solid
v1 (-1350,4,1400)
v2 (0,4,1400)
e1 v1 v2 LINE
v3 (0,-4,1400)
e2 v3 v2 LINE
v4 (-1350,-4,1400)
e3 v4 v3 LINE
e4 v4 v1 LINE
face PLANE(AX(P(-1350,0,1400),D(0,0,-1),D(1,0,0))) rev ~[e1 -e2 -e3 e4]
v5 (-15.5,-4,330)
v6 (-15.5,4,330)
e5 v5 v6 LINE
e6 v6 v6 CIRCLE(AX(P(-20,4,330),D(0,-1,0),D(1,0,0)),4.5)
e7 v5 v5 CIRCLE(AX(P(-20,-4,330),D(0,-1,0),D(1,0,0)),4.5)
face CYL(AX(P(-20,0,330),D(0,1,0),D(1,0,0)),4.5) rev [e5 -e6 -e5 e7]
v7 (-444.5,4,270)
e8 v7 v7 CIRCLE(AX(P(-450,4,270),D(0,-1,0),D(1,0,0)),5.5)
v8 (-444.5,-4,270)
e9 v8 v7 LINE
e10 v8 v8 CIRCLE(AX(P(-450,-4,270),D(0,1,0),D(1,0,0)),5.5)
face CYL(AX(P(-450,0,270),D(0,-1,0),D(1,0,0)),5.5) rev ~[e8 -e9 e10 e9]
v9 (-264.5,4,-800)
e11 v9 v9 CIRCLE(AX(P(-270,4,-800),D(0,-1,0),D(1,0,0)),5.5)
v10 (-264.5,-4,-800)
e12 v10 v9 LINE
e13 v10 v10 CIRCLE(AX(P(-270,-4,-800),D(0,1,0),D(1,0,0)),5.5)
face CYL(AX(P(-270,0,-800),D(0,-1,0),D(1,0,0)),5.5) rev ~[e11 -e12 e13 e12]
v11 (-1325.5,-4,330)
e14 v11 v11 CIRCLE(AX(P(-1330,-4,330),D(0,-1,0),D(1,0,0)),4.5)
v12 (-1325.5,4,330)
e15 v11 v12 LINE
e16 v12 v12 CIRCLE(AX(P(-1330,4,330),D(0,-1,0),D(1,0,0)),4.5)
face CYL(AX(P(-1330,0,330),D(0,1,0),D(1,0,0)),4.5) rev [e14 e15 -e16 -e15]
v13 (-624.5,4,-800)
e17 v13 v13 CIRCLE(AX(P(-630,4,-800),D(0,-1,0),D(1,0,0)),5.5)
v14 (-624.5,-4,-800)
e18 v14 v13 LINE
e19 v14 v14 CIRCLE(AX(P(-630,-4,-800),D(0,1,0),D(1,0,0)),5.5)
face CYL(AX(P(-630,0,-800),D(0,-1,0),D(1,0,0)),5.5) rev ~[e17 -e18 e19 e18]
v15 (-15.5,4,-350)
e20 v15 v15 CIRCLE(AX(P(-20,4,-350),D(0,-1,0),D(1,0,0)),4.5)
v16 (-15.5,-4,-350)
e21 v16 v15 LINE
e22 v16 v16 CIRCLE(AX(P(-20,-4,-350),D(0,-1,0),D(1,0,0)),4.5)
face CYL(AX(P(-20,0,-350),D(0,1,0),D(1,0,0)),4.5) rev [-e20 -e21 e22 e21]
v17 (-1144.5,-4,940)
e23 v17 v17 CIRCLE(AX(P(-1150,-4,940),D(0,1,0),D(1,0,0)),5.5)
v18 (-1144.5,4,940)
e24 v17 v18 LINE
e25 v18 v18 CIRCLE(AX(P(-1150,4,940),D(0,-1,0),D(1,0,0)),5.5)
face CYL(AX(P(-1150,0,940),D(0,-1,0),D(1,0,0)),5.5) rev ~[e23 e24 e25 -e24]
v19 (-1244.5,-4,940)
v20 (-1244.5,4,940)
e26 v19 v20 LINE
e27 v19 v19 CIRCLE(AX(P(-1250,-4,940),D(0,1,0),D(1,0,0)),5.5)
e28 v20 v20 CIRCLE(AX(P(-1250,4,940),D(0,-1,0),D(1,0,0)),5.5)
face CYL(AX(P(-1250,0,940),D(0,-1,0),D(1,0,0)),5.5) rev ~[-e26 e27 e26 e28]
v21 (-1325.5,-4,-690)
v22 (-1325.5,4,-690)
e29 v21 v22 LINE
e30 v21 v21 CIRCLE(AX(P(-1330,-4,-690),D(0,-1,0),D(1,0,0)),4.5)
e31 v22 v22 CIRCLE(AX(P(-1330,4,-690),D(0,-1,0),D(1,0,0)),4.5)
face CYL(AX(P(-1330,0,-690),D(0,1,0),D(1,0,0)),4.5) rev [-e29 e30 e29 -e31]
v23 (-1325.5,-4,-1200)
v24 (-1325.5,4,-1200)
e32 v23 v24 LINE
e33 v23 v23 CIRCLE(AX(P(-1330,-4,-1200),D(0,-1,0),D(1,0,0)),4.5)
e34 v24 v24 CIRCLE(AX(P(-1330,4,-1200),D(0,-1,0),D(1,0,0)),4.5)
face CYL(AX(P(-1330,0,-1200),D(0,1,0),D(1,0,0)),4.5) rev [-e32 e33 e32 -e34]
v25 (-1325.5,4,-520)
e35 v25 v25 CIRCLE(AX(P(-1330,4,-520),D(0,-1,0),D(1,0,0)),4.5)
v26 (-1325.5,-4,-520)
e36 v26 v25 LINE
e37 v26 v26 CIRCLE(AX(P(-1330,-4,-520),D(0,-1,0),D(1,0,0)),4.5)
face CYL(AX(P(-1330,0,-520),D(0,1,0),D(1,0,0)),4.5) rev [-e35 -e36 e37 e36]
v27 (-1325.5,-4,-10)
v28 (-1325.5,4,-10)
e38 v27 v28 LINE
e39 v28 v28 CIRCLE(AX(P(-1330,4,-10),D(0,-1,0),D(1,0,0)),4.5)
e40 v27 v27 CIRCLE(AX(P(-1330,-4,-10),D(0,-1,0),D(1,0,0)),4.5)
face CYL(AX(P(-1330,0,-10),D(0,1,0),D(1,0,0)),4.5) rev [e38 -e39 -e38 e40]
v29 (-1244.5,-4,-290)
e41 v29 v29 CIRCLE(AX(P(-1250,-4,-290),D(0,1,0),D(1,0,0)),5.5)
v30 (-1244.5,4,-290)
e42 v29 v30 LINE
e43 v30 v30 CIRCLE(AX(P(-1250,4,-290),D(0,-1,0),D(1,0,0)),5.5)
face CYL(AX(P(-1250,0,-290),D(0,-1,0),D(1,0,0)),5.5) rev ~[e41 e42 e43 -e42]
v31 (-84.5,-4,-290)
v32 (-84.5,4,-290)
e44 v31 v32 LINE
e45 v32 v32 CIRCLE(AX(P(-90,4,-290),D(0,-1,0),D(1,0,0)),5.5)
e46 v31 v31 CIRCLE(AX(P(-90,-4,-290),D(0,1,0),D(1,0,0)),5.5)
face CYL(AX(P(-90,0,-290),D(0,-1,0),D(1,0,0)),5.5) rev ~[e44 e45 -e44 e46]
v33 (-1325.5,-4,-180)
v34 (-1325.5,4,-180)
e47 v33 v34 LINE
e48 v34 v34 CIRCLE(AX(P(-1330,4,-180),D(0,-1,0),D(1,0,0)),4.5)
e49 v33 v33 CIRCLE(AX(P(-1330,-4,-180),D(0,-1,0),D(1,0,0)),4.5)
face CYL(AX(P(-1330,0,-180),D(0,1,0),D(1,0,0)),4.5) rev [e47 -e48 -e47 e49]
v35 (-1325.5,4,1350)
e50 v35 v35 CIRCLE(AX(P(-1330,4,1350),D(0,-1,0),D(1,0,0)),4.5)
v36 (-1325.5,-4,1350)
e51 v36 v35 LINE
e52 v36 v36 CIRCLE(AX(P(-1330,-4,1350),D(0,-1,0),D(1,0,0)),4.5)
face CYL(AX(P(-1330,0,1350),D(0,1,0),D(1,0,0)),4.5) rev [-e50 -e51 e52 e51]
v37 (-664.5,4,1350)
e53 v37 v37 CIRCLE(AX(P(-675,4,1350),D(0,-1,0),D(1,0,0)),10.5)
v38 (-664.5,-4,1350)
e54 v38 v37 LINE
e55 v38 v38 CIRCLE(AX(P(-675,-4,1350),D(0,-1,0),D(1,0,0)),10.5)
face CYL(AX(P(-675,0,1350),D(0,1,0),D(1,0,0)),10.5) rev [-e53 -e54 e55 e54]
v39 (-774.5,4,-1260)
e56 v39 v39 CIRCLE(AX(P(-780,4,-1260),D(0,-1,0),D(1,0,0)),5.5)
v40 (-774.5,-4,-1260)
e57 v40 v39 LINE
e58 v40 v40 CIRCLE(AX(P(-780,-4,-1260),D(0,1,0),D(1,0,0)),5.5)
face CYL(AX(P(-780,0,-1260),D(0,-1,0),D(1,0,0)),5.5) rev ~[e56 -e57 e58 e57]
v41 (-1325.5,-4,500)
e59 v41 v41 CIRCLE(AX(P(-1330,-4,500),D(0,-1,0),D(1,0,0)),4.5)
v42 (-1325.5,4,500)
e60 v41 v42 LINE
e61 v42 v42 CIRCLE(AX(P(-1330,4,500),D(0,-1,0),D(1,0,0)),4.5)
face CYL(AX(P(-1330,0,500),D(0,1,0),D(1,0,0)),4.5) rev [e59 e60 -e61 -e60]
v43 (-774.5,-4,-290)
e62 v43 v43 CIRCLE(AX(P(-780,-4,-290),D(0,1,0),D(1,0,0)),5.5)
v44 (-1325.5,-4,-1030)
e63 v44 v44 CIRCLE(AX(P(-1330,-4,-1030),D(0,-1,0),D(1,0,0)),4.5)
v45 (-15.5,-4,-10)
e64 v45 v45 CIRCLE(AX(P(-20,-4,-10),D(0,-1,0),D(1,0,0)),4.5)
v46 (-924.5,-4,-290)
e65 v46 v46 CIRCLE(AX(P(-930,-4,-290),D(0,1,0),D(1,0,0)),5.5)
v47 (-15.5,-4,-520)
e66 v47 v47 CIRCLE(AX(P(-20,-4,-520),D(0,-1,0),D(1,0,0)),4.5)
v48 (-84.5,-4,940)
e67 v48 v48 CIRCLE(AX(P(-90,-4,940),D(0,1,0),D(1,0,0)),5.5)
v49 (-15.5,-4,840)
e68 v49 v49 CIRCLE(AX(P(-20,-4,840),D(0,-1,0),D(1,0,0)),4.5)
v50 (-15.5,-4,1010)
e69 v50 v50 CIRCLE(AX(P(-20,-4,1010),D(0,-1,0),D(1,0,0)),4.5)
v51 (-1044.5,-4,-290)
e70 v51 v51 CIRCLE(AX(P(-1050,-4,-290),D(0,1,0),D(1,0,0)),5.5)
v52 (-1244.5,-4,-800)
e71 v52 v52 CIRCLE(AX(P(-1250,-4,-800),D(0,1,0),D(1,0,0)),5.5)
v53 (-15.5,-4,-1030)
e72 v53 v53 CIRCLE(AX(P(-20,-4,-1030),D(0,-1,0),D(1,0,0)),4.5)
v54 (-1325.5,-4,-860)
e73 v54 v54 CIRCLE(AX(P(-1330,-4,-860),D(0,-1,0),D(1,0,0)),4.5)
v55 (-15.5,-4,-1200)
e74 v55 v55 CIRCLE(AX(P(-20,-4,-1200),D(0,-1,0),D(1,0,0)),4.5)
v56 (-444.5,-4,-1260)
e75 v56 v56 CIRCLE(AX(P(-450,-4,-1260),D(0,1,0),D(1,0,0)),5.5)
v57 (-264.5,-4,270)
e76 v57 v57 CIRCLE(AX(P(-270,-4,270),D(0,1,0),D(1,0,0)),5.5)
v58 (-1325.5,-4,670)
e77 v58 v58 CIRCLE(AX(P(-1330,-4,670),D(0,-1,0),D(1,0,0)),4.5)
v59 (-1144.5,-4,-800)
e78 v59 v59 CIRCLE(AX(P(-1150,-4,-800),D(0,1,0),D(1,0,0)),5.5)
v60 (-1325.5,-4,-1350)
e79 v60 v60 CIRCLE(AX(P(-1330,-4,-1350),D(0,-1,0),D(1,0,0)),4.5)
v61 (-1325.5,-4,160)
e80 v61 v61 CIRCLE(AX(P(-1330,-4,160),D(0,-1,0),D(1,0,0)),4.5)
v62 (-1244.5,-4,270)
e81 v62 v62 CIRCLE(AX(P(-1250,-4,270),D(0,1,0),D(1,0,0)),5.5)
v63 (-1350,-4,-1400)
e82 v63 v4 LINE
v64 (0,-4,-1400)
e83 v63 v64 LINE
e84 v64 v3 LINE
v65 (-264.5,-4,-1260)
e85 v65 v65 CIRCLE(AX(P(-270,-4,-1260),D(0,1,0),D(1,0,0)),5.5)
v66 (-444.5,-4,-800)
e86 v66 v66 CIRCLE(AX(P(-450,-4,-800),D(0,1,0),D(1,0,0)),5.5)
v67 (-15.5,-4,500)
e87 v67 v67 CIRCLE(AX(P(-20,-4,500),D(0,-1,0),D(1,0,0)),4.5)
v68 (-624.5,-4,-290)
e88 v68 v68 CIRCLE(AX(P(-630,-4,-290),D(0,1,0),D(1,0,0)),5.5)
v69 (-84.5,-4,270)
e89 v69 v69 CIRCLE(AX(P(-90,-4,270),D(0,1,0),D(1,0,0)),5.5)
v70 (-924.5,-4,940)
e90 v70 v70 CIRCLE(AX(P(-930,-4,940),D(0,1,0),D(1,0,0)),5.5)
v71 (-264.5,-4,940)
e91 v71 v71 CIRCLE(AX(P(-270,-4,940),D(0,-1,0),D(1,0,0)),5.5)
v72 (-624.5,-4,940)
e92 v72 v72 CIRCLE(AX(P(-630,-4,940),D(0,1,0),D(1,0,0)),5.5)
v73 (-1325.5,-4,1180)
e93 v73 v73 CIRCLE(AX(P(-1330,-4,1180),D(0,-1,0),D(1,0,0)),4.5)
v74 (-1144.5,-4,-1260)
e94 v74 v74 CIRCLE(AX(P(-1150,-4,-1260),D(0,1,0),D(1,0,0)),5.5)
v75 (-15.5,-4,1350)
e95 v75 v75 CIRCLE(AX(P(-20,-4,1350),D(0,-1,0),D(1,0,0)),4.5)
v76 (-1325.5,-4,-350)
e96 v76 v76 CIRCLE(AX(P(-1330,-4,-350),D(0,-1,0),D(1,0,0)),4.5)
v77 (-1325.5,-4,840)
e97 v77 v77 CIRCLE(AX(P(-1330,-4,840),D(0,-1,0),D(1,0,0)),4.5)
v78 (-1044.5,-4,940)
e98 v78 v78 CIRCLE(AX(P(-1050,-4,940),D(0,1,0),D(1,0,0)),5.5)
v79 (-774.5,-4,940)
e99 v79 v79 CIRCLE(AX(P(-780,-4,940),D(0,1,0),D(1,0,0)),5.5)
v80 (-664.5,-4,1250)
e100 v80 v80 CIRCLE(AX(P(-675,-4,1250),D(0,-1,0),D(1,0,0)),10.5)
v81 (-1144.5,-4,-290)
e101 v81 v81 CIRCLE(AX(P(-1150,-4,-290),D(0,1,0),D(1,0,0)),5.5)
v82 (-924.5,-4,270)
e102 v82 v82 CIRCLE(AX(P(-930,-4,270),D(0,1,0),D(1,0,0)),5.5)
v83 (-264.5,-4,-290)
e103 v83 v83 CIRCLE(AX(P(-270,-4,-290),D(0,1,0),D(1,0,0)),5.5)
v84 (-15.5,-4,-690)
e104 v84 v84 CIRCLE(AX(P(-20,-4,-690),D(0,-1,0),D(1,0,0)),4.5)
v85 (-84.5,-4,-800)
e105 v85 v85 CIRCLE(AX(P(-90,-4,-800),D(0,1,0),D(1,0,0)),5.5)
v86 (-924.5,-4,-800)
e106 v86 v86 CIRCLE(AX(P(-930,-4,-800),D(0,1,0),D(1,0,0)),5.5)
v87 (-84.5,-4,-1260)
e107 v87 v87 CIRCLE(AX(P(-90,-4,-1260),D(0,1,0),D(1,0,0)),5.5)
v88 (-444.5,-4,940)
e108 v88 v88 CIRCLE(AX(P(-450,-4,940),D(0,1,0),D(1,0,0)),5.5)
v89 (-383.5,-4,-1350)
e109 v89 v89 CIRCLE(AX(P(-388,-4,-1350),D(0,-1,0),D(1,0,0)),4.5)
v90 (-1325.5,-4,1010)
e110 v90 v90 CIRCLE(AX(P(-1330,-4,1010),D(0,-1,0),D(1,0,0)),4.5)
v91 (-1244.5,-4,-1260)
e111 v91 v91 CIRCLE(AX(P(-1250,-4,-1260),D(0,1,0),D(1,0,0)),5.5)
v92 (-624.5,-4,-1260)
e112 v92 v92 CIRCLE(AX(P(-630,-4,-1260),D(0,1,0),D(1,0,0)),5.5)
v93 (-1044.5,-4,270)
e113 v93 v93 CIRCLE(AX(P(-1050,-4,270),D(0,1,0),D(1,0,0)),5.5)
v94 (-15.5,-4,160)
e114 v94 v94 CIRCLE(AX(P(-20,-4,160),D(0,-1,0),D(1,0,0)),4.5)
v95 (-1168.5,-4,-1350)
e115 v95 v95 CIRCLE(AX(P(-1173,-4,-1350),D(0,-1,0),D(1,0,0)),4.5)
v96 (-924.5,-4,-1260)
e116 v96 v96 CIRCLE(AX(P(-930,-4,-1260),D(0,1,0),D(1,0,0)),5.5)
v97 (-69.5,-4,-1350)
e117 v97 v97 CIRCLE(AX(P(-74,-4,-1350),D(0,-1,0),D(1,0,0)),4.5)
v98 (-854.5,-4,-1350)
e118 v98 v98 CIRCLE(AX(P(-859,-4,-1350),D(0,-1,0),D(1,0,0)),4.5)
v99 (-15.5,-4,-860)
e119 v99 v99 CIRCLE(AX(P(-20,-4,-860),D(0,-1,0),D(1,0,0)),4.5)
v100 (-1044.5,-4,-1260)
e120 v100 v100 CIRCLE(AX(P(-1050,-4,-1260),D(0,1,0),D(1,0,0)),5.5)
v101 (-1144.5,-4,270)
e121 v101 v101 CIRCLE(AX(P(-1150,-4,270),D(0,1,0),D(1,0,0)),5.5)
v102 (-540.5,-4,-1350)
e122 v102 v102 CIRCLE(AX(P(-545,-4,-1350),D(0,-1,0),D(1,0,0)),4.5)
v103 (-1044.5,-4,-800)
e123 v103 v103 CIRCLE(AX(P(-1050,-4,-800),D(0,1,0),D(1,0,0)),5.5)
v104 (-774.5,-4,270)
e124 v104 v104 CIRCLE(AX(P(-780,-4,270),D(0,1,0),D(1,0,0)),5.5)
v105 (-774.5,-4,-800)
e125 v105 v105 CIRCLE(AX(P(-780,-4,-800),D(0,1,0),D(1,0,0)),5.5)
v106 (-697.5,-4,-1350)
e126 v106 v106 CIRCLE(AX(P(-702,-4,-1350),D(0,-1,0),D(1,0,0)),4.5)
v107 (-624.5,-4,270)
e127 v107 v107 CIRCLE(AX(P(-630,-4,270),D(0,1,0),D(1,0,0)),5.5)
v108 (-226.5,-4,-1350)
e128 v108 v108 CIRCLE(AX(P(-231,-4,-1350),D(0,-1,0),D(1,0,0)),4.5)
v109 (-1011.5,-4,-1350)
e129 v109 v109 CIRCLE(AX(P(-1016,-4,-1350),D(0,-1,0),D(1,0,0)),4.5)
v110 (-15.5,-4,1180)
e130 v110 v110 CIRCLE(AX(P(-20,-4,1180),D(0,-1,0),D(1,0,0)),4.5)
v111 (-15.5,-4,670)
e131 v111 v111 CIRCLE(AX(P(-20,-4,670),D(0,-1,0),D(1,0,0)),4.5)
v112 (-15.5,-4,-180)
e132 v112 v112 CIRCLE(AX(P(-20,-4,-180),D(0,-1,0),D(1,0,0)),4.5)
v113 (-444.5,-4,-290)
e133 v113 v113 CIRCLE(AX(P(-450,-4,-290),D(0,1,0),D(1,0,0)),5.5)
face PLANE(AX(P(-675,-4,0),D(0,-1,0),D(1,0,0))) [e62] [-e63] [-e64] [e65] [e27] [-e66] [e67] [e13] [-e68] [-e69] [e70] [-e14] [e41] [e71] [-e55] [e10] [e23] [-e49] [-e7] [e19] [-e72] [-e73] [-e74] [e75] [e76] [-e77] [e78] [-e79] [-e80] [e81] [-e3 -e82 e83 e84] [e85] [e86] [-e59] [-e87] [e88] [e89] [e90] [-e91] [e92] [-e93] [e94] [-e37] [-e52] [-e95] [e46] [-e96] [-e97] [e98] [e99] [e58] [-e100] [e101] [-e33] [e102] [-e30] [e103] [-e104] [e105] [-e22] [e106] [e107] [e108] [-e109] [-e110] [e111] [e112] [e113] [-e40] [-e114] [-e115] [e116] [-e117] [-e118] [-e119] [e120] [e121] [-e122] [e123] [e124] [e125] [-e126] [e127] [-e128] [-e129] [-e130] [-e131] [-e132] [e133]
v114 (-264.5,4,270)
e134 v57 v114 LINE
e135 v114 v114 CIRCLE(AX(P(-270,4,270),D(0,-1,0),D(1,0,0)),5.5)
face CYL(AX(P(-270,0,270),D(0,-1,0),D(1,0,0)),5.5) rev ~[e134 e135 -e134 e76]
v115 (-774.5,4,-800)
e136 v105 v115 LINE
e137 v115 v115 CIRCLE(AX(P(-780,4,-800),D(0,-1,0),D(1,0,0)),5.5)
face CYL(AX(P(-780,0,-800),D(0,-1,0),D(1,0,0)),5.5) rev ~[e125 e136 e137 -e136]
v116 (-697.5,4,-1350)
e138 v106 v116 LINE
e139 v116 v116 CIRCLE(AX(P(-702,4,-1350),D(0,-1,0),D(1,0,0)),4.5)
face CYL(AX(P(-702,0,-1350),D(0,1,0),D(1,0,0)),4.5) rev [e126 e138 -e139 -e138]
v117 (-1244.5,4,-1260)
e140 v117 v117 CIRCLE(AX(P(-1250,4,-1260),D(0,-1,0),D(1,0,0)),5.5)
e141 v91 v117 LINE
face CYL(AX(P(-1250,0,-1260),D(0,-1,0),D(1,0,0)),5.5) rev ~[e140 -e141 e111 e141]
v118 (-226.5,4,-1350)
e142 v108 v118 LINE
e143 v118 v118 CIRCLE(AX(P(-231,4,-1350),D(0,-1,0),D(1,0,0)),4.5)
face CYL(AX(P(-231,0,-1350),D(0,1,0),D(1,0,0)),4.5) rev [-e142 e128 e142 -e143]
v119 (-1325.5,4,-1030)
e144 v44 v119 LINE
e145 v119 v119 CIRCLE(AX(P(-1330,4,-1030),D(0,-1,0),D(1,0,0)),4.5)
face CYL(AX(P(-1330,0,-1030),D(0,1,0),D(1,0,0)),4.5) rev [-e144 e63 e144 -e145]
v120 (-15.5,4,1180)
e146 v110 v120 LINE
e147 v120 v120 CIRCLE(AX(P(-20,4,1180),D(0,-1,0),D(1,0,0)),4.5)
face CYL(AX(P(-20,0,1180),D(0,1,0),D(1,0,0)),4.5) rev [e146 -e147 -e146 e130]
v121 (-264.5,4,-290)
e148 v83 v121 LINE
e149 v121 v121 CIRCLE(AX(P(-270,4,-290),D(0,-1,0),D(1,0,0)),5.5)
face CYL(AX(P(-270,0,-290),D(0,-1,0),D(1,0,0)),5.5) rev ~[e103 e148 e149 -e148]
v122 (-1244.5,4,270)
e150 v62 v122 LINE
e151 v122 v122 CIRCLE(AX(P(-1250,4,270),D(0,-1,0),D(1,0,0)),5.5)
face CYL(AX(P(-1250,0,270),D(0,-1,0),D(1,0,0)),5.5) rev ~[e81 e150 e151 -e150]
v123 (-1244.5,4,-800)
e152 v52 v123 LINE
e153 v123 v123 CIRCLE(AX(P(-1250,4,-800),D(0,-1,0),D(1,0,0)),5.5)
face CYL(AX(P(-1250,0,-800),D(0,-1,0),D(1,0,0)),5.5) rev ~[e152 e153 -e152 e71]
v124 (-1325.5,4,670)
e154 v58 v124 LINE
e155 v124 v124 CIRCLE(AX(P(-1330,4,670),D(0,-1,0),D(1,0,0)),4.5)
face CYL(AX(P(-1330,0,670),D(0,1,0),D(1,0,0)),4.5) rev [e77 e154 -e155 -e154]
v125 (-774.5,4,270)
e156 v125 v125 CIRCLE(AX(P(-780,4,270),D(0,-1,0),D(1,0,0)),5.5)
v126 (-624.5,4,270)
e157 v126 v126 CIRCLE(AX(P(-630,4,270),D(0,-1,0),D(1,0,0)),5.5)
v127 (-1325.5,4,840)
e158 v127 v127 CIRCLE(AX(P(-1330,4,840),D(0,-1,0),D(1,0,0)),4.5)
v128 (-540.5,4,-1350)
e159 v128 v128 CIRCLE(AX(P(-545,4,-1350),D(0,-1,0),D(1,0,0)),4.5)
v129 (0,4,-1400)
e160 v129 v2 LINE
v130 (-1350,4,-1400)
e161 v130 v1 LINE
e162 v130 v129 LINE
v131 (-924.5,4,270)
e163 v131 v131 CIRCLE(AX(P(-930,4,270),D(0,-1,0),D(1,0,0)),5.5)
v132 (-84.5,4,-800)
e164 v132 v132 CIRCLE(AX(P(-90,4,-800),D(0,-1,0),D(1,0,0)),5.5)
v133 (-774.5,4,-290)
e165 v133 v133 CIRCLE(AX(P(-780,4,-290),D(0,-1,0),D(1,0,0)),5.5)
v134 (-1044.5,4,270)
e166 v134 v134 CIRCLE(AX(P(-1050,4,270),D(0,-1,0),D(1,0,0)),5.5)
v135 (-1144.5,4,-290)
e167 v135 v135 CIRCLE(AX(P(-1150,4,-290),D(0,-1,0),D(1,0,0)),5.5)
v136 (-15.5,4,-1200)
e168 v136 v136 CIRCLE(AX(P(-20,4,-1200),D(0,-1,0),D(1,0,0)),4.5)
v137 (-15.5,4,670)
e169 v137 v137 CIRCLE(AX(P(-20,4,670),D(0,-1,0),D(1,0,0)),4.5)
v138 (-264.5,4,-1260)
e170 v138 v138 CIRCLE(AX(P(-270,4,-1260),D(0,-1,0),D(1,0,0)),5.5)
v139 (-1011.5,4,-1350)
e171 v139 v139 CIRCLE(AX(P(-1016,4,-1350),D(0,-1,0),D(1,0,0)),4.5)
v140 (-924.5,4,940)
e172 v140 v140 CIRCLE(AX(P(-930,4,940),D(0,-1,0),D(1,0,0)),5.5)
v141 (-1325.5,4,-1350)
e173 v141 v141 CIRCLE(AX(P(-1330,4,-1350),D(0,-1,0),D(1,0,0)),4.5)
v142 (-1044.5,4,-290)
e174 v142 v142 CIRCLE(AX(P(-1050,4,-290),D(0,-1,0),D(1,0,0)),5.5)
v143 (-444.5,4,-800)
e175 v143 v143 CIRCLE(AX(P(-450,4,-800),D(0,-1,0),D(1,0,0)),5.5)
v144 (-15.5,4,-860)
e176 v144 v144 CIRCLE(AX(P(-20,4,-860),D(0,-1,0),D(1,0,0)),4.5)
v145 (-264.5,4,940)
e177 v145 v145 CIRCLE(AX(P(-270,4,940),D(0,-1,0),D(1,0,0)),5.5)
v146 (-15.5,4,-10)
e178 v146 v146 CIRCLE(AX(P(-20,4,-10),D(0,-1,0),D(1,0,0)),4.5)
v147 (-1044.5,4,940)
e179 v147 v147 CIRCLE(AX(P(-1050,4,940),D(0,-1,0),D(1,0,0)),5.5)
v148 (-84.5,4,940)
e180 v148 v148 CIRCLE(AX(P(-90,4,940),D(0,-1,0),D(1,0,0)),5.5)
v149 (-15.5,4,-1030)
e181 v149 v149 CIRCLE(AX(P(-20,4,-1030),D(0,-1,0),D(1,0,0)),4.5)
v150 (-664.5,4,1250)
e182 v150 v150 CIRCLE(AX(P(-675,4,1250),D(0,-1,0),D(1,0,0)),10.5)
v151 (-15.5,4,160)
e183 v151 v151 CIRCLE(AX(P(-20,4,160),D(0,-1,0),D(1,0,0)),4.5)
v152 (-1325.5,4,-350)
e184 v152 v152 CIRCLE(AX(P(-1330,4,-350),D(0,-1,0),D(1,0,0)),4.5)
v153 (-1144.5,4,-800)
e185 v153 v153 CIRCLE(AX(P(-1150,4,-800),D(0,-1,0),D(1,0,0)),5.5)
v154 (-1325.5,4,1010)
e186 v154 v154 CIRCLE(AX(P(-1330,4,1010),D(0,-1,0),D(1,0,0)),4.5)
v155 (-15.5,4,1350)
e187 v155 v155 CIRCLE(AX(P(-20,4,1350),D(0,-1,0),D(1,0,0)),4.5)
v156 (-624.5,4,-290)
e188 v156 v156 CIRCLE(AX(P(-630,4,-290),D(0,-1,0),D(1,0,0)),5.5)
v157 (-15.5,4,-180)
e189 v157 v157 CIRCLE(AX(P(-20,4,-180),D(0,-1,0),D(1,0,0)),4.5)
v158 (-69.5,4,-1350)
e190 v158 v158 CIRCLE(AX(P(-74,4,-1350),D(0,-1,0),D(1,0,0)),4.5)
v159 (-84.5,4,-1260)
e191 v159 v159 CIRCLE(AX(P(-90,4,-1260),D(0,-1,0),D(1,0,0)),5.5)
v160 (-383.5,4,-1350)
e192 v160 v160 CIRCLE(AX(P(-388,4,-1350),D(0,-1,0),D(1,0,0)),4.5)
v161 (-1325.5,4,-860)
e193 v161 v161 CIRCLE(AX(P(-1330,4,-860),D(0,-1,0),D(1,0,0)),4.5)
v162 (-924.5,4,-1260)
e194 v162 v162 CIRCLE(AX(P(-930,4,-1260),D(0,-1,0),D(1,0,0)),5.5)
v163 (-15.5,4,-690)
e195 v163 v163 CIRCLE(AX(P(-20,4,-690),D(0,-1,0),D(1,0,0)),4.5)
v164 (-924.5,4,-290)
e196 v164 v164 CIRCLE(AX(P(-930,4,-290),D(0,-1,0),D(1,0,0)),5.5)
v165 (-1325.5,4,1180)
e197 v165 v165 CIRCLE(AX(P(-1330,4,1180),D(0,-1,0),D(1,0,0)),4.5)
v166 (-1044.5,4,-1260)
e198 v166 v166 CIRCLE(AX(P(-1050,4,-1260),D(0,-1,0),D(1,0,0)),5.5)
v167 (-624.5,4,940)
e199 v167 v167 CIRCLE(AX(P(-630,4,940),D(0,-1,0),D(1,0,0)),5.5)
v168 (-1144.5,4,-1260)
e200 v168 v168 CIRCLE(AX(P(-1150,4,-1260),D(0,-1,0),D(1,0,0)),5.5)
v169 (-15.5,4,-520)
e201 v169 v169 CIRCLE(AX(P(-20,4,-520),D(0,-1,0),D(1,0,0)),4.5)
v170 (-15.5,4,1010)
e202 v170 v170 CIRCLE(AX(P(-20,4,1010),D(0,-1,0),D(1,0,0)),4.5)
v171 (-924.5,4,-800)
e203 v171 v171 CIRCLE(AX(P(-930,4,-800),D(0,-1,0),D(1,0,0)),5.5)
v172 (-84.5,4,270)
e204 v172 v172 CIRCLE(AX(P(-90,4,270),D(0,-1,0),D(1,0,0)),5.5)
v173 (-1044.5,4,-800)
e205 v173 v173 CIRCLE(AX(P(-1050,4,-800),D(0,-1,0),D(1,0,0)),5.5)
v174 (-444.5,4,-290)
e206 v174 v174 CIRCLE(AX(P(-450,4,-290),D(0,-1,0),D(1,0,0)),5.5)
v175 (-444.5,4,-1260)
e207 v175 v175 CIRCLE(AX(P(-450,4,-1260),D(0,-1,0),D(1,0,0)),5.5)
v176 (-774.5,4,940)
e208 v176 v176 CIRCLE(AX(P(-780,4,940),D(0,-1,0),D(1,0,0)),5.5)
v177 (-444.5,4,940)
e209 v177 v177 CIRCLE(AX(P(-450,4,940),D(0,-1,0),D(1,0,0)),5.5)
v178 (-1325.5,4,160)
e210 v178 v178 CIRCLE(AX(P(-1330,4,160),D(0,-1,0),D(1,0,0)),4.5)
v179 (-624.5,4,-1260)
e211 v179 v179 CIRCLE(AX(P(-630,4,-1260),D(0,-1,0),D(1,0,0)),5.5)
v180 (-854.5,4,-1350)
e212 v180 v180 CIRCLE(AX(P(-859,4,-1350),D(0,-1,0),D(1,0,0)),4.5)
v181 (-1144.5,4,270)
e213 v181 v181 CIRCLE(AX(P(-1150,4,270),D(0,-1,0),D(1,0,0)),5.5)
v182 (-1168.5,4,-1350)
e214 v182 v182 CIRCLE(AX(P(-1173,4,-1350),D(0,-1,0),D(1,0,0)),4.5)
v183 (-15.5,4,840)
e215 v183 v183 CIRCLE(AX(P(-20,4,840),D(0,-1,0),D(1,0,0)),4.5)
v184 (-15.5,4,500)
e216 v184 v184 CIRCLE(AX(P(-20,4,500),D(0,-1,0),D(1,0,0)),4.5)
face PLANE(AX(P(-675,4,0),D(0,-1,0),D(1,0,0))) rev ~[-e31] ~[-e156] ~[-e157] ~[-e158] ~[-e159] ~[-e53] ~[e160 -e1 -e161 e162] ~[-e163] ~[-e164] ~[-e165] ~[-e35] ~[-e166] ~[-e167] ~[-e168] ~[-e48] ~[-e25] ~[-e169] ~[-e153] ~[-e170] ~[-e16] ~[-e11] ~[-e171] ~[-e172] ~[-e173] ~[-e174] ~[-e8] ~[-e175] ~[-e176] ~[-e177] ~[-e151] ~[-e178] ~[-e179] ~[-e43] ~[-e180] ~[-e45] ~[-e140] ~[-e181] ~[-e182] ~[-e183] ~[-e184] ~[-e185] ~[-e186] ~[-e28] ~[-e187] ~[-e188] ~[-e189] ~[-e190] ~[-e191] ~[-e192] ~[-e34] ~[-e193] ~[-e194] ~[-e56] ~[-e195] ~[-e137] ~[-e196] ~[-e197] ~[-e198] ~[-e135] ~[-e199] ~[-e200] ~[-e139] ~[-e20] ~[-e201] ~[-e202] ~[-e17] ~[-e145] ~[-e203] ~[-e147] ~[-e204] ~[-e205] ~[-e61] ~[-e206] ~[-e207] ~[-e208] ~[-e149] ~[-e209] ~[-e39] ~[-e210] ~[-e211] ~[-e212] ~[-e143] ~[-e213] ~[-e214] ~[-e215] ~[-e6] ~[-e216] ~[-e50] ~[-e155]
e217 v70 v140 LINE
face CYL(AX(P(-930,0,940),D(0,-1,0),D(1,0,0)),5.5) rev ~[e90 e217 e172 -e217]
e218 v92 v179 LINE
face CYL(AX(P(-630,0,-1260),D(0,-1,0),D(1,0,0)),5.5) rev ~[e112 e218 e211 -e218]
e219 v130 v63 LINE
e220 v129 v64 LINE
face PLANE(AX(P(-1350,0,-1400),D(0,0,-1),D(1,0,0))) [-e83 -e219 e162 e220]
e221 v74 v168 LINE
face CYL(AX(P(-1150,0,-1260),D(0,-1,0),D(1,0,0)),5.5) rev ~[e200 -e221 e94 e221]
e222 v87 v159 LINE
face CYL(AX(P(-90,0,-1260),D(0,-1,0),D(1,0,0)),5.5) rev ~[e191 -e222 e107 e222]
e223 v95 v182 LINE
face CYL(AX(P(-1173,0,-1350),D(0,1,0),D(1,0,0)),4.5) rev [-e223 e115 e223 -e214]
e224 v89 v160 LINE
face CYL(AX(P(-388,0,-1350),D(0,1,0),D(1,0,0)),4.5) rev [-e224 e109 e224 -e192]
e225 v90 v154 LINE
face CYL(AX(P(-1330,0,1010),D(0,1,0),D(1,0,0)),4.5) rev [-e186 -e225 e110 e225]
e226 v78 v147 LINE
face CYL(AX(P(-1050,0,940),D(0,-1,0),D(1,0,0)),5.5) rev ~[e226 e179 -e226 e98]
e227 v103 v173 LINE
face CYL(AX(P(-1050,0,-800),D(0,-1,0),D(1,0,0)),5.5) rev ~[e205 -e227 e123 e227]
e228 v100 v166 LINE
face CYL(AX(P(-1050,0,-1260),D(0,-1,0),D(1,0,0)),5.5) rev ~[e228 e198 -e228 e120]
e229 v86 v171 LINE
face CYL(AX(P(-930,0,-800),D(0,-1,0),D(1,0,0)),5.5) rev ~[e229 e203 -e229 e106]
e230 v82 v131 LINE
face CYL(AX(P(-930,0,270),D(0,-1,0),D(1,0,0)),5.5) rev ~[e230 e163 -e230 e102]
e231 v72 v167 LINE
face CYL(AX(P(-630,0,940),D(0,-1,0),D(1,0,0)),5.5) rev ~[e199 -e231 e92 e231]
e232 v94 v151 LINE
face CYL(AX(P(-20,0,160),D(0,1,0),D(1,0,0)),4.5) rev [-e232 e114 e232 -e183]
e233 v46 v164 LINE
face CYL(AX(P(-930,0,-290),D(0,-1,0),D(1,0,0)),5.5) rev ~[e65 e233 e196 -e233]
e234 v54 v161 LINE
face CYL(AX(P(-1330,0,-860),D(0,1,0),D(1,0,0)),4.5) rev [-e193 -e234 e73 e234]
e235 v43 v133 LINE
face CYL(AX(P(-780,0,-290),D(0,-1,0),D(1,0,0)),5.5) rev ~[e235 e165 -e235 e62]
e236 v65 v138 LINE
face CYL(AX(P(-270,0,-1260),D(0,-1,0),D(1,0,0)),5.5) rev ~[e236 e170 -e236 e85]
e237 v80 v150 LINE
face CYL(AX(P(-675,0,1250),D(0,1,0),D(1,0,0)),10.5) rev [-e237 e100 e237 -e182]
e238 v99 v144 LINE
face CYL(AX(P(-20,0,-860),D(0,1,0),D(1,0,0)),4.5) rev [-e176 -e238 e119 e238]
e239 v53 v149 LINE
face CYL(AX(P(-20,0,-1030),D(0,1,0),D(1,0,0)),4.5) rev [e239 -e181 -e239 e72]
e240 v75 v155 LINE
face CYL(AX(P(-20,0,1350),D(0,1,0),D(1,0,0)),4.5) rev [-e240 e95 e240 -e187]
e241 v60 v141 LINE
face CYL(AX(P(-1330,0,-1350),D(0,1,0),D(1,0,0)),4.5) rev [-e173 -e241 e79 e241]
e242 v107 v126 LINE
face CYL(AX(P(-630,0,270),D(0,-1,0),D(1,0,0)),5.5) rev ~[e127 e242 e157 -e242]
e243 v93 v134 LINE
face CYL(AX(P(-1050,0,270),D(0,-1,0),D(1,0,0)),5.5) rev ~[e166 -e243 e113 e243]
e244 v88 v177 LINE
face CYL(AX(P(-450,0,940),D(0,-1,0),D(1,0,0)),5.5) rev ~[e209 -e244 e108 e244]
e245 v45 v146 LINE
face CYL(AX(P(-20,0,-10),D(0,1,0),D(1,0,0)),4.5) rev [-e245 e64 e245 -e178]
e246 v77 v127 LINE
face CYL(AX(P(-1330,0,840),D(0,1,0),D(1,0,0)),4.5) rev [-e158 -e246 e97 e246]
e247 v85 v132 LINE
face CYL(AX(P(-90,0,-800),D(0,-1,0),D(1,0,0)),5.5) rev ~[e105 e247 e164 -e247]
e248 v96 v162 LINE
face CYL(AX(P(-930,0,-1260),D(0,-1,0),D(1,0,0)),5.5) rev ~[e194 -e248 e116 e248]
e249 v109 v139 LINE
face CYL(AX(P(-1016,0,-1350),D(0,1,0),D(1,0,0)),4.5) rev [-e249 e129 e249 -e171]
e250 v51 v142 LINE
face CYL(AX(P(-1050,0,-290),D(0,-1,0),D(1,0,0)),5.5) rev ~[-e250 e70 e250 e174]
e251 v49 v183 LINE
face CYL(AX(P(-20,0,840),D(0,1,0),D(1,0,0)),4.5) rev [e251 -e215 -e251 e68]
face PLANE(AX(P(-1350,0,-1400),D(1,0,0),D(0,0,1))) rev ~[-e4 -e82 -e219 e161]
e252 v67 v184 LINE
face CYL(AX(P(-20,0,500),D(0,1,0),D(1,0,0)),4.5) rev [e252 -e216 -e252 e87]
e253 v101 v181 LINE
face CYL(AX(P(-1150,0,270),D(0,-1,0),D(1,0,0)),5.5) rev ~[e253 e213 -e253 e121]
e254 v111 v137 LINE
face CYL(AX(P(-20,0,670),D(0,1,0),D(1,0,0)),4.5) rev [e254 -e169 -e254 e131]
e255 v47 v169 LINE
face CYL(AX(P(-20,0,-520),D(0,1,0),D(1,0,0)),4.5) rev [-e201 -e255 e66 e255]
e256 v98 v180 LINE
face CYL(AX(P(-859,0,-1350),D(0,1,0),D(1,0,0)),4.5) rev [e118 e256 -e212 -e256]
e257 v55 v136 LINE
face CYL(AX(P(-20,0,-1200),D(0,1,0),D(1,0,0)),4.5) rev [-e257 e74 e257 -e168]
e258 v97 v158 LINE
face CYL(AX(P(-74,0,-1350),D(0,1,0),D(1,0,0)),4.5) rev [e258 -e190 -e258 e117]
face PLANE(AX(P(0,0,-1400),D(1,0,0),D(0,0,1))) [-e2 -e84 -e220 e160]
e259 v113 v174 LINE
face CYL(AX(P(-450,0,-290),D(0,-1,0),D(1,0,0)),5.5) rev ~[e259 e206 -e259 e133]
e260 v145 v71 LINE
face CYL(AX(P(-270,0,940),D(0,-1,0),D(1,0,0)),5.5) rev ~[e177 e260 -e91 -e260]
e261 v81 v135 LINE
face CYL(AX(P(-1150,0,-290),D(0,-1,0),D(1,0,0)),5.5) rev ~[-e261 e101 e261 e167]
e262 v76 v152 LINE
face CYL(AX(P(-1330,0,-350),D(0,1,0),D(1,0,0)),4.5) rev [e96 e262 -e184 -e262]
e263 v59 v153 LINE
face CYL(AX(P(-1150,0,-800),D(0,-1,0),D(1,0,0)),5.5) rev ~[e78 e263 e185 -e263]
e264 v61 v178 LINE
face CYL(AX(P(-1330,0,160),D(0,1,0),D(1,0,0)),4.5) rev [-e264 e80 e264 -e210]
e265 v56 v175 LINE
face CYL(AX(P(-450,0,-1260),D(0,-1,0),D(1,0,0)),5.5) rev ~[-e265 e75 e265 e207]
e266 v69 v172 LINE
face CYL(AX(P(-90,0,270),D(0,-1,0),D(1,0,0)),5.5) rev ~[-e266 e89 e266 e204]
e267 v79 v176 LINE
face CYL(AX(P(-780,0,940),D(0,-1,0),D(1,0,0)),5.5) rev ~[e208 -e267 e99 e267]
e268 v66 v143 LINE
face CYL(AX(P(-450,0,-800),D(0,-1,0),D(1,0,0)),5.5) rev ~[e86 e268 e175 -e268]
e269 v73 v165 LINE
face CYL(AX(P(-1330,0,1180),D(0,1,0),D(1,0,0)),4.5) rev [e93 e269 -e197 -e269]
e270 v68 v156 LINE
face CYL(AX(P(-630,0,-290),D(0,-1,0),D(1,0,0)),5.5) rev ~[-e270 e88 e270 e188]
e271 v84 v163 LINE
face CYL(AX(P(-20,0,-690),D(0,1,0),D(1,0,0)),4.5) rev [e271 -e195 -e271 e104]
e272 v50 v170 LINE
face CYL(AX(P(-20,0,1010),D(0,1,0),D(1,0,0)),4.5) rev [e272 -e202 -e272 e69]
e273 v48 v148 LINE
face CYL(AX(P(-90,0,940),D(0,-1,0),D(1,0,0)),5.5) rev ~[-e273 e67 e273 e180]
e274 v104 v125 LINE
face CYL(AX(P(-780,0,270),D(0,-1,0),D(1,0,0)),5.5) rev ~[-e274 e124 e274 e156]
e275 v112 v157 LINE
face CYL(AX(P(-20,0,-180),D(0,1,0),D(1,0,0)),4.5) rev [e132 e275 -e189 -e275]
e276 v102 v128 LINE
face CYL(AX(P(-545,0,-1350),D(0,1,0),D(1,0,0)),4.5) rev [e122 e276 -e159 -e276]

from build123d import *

# Parameters (mm, degrees)
F0_W     = 1350
F0_H     = 2800
F0_R     = 4.5
F0_R_2   = 10.5
F1_DEPTH = 4
F2_R     = 5.5
F3_DEPTH = 12.5


with BuildPart() as f1:
    # F0 (on Front) → F1 (new body, symmetric)
    with BuildSketch(Plane.XZ):
        with Locations((-675, 0)):
            Rectangle(F0_W, F0_H)
        with Locations((-1330, -1350)):
            Circle(F0_R, mode=Mode.SUBTRACT)
        with Locations((-1330, -1200)):
            Circle(F0_R, mode=Mode.SUBTRACT)
        with Locations((-1173, -1350)):
            Circle(F0_R, mode=Mode.SUBTRACT)
        with Locations((-1016, -1350)):
            Circle(F0_R, mode=Mode.SUBTRACT)
        with Locations((-1330, -1030)):
            Circle(F0_R, mode=Mode.SUBTRACT)
        with Locations((-1330, -860)):
            Circle(F0_R, mode=Mode.SUBTRACT)
        with Locations((-859, -1350)):
            Circle(F0_R, mode=Mode.SUBTRACT)
        with Locations((-702, -1350)):
            Circle(F0_R, mode=Mode.SUBTRACT)
        with Locations((-1330, -690)):
            Circle(F0_R, mode=Mode.SUBTRACT)
        with Locations((-1330, -520)):
            Circle(F0_R, mode=Mode.SUBTRACT)
        with Locations((-1330, -350)):
            Circle(F0_R, mode=Mode.SUBTRACT)
        with Locations((-1330, -180)):
            Circle(F0_R, mode=Mode.SUBTRACT)
        with Locations((-1330, -10)):
            Circle(F0_R, mode=Mode.SUBTRACT)
        with Locations((-545, -1350)):
            Circle(F0_R, mode=Mode.SUBTRACT)
        with Locations((-388, -1350)):
            Circle(F0_R, mode=Mode.SUBTRACT)
        with Locations((-231, -1350)):
            Circle(F0_R, mode=Mode.SUBTRACT)
        with Locations((-74, -1350)):
            Circle(F0_R, mode=Mode.SUBTRACT)
        with Locations((-20, -1200)):
            Circle(F0_R, mode=Mode.SUBTRACT)
        with Locations((-20, -1030)):
            Circle(F0_R, mode=Mode.SUBTRACT)
        with Locations((-20, -860)):
            Circle(F0_R, mode=Mode.SUBTRACT)
        with Locations((-20, -690)):
            Circle(F0_R, mode=Mode.SUBTRACT)
        with Locations((-20, -520)):
            Circle(F0_R, mode=Mode.SUBTRACT)
        with Locations((-20, -350)):
            Circle(F0_R, mode=Mode.SUBTRACT)
        with Locations((-20, -180)):
            Circle(F0_R, mode=Mode.SUBTRACT)
        with Locations((-20, -10)):
            Circle(F0_R, mode=Mode.SUBTRACT)
        with Locations((-1330, 160)):
            Circle(F0_R, mode=Mode.SUBTRACT)
        with Locations((-1330, 330)):
            Circle(F0_R, mode=Mode.SUBTRACT)
        with Locations((-1330, 500)):
            Circle(F0_R, mode=Mode.SUBTRACT)
        with Locations((-1330, 670)):
            Circle(F0_R, mode=Mode.SUBTRACT)
        with Locations((-1330, 840)):
            Circle(F0_R, mode=Mode.SUBTRACT)
        with Locations((-1330, 1010)):
            Circle(F0_R, mode=Mode.SUBTRACT)
        with Locations((-1330, 1180)):
            Circle(F0_R, mode=Mode.SUBTRACT)
        with Locations((-1330, 1350)):
            Circle(F0_R, mode=Mode.SUBTRACT)
        with Locations((-20, 160)):
            Circle(F0_R, mode=Mode.SUBTRACT)
        with Locations((-20, 330)):
            Circle(F0_R, mode=Mode.SUBTRACT)
        with Locations((-20, 500)):
            Circle(F0_R, mode=Mode.SUBTRACT)
        with Locations((-20, 670)):
            Circle(F0_R, mode=Mode.SUBTRACT)
        with Locations((-675, 1250)):
            Circle(F0_R_2, mode=Mode.SUBTRACT)
        with Locations((-675, 1350)):
            Circle(F0_R_2, mode=Mode.SUBTRACT)
        with Locations((-20, 840)):
            Circle(F0_R, mode=Mode.SUBTRACT)
        with Locations((-20, 1010)):
            Circle(F0_R, mode=Mode.SUBTRACT)
        with Locations((-20, 1180)):
            Circle(F0_R, mode=Mode.SUBTRACT)
        with Locations((-20, 1350)):
            Circle(F0_R, mode=Mode.SUBTRACT)
    extrude(amount=F1_DEPTH, both=True)

    # F2 (on face) → F3 (cut, symmetric)
    with BuildSketch(Plane.XZ):
        with Locations((-1250, -1260)):
            Circle(F2_R)
        with Locations((-1150, -1260)):
            Circle(F2_R)
        with Locations((-1050, -1260)):
            Circle(F2_R)
        with Locations((-930, -1260)):
            Circle(F2_R)
        with Locations((-780, -1260)):
            Circle(F2_R)
        with Locations((-630, -1260)):
            Circle(F2_R)
        with Locations((-450, -1260)):
            Circle(F2_R)
        with Locations((-90, -1260)):
            Circle(F2_R)
        with Locations((-270, -1260)):
            Circle(F2_R)
        with Locations((-1250, -800)):
            Circle(F2_R)
        with Locations((-1150, -800)):
            Circle(F2_R)
        with Locations((-1050, -800)):
            Circle(F2_R)
        with Locations((-930, -800)):
            Circle(F2_R)
        with Locations((-780, -800)):
            Circle(F2_R)
        with Locations((-630, -800)):
            Circle(F2_R)
        with Locations((-450, -800)):
            Circle(F2_R)
        with Locations((-90, -800)):
            Circle(F2_R)
        with Locations((-270, -800)):
            Circle(F2_R)
        with Locations((-1250, -290)):
            Circle(F2_R)
        with Locations((-1150, -290)):
            Circle(F2_R)
        with Locations((-1050, -290)):
            Circle(F2_R)
        with Locations((-930, -290)):
            Circle(F2_R)
        with Locations((-780, -290)):
            Circle(F2_R)
        with Locations((-630, -290)):
            Circle(F2_R)
        with Locations((-450, -290)):
            Circle(F2_R)
        with Locations((-90, -290)):
            Circle(F2_R)
        with Locations((-270, -290)):
            Circle(F2_R)
        with Locations((-1250, 270)):
            Circle(F2_R)
        with Locations((-1150, 270)):
            Circle(F2_R)
        with Locations((-1050, 270)):
            Circle(F2_R)
        with Locations((-930, 270)):
            Circle(F2_R)
        with Locations((-780, 270)):
            Circle(F2_R)
        with Locations((-630, 270)):
            Circle(F2_R)
        with Locations((-450, 270)):
            Circle(F2_R)
        with Locations((-90, 270)):
            Circle(F2_R)
        with Locations((-270, 270)):
            Circle(F2_R)
        with Locations((-1250, 940)):
            Circle(F2_R)
        with Locations((-1150, 940)):
            Circle(F2_R)
        with Locations((-1050, 940)):
            Circle(F2_R)
        with Locations((-930, 940)):
            Circle(F2_R)
        with Locations((-780, 940)):
            Circle(F2_R)
        with Locations((-630, 940)):
            Circle(F2_R)
        with Locations((-450, 940)):
            Circle(F2_R)
        with Locations((-90, 940)):
            Circle(F2_R)
        with Locations((-270, 940)):
            Circle(F2_R)
    extrude(amount=F3_DEPTH, both=True, mode=Mode.SUBTRACT)


solid = f1.part
